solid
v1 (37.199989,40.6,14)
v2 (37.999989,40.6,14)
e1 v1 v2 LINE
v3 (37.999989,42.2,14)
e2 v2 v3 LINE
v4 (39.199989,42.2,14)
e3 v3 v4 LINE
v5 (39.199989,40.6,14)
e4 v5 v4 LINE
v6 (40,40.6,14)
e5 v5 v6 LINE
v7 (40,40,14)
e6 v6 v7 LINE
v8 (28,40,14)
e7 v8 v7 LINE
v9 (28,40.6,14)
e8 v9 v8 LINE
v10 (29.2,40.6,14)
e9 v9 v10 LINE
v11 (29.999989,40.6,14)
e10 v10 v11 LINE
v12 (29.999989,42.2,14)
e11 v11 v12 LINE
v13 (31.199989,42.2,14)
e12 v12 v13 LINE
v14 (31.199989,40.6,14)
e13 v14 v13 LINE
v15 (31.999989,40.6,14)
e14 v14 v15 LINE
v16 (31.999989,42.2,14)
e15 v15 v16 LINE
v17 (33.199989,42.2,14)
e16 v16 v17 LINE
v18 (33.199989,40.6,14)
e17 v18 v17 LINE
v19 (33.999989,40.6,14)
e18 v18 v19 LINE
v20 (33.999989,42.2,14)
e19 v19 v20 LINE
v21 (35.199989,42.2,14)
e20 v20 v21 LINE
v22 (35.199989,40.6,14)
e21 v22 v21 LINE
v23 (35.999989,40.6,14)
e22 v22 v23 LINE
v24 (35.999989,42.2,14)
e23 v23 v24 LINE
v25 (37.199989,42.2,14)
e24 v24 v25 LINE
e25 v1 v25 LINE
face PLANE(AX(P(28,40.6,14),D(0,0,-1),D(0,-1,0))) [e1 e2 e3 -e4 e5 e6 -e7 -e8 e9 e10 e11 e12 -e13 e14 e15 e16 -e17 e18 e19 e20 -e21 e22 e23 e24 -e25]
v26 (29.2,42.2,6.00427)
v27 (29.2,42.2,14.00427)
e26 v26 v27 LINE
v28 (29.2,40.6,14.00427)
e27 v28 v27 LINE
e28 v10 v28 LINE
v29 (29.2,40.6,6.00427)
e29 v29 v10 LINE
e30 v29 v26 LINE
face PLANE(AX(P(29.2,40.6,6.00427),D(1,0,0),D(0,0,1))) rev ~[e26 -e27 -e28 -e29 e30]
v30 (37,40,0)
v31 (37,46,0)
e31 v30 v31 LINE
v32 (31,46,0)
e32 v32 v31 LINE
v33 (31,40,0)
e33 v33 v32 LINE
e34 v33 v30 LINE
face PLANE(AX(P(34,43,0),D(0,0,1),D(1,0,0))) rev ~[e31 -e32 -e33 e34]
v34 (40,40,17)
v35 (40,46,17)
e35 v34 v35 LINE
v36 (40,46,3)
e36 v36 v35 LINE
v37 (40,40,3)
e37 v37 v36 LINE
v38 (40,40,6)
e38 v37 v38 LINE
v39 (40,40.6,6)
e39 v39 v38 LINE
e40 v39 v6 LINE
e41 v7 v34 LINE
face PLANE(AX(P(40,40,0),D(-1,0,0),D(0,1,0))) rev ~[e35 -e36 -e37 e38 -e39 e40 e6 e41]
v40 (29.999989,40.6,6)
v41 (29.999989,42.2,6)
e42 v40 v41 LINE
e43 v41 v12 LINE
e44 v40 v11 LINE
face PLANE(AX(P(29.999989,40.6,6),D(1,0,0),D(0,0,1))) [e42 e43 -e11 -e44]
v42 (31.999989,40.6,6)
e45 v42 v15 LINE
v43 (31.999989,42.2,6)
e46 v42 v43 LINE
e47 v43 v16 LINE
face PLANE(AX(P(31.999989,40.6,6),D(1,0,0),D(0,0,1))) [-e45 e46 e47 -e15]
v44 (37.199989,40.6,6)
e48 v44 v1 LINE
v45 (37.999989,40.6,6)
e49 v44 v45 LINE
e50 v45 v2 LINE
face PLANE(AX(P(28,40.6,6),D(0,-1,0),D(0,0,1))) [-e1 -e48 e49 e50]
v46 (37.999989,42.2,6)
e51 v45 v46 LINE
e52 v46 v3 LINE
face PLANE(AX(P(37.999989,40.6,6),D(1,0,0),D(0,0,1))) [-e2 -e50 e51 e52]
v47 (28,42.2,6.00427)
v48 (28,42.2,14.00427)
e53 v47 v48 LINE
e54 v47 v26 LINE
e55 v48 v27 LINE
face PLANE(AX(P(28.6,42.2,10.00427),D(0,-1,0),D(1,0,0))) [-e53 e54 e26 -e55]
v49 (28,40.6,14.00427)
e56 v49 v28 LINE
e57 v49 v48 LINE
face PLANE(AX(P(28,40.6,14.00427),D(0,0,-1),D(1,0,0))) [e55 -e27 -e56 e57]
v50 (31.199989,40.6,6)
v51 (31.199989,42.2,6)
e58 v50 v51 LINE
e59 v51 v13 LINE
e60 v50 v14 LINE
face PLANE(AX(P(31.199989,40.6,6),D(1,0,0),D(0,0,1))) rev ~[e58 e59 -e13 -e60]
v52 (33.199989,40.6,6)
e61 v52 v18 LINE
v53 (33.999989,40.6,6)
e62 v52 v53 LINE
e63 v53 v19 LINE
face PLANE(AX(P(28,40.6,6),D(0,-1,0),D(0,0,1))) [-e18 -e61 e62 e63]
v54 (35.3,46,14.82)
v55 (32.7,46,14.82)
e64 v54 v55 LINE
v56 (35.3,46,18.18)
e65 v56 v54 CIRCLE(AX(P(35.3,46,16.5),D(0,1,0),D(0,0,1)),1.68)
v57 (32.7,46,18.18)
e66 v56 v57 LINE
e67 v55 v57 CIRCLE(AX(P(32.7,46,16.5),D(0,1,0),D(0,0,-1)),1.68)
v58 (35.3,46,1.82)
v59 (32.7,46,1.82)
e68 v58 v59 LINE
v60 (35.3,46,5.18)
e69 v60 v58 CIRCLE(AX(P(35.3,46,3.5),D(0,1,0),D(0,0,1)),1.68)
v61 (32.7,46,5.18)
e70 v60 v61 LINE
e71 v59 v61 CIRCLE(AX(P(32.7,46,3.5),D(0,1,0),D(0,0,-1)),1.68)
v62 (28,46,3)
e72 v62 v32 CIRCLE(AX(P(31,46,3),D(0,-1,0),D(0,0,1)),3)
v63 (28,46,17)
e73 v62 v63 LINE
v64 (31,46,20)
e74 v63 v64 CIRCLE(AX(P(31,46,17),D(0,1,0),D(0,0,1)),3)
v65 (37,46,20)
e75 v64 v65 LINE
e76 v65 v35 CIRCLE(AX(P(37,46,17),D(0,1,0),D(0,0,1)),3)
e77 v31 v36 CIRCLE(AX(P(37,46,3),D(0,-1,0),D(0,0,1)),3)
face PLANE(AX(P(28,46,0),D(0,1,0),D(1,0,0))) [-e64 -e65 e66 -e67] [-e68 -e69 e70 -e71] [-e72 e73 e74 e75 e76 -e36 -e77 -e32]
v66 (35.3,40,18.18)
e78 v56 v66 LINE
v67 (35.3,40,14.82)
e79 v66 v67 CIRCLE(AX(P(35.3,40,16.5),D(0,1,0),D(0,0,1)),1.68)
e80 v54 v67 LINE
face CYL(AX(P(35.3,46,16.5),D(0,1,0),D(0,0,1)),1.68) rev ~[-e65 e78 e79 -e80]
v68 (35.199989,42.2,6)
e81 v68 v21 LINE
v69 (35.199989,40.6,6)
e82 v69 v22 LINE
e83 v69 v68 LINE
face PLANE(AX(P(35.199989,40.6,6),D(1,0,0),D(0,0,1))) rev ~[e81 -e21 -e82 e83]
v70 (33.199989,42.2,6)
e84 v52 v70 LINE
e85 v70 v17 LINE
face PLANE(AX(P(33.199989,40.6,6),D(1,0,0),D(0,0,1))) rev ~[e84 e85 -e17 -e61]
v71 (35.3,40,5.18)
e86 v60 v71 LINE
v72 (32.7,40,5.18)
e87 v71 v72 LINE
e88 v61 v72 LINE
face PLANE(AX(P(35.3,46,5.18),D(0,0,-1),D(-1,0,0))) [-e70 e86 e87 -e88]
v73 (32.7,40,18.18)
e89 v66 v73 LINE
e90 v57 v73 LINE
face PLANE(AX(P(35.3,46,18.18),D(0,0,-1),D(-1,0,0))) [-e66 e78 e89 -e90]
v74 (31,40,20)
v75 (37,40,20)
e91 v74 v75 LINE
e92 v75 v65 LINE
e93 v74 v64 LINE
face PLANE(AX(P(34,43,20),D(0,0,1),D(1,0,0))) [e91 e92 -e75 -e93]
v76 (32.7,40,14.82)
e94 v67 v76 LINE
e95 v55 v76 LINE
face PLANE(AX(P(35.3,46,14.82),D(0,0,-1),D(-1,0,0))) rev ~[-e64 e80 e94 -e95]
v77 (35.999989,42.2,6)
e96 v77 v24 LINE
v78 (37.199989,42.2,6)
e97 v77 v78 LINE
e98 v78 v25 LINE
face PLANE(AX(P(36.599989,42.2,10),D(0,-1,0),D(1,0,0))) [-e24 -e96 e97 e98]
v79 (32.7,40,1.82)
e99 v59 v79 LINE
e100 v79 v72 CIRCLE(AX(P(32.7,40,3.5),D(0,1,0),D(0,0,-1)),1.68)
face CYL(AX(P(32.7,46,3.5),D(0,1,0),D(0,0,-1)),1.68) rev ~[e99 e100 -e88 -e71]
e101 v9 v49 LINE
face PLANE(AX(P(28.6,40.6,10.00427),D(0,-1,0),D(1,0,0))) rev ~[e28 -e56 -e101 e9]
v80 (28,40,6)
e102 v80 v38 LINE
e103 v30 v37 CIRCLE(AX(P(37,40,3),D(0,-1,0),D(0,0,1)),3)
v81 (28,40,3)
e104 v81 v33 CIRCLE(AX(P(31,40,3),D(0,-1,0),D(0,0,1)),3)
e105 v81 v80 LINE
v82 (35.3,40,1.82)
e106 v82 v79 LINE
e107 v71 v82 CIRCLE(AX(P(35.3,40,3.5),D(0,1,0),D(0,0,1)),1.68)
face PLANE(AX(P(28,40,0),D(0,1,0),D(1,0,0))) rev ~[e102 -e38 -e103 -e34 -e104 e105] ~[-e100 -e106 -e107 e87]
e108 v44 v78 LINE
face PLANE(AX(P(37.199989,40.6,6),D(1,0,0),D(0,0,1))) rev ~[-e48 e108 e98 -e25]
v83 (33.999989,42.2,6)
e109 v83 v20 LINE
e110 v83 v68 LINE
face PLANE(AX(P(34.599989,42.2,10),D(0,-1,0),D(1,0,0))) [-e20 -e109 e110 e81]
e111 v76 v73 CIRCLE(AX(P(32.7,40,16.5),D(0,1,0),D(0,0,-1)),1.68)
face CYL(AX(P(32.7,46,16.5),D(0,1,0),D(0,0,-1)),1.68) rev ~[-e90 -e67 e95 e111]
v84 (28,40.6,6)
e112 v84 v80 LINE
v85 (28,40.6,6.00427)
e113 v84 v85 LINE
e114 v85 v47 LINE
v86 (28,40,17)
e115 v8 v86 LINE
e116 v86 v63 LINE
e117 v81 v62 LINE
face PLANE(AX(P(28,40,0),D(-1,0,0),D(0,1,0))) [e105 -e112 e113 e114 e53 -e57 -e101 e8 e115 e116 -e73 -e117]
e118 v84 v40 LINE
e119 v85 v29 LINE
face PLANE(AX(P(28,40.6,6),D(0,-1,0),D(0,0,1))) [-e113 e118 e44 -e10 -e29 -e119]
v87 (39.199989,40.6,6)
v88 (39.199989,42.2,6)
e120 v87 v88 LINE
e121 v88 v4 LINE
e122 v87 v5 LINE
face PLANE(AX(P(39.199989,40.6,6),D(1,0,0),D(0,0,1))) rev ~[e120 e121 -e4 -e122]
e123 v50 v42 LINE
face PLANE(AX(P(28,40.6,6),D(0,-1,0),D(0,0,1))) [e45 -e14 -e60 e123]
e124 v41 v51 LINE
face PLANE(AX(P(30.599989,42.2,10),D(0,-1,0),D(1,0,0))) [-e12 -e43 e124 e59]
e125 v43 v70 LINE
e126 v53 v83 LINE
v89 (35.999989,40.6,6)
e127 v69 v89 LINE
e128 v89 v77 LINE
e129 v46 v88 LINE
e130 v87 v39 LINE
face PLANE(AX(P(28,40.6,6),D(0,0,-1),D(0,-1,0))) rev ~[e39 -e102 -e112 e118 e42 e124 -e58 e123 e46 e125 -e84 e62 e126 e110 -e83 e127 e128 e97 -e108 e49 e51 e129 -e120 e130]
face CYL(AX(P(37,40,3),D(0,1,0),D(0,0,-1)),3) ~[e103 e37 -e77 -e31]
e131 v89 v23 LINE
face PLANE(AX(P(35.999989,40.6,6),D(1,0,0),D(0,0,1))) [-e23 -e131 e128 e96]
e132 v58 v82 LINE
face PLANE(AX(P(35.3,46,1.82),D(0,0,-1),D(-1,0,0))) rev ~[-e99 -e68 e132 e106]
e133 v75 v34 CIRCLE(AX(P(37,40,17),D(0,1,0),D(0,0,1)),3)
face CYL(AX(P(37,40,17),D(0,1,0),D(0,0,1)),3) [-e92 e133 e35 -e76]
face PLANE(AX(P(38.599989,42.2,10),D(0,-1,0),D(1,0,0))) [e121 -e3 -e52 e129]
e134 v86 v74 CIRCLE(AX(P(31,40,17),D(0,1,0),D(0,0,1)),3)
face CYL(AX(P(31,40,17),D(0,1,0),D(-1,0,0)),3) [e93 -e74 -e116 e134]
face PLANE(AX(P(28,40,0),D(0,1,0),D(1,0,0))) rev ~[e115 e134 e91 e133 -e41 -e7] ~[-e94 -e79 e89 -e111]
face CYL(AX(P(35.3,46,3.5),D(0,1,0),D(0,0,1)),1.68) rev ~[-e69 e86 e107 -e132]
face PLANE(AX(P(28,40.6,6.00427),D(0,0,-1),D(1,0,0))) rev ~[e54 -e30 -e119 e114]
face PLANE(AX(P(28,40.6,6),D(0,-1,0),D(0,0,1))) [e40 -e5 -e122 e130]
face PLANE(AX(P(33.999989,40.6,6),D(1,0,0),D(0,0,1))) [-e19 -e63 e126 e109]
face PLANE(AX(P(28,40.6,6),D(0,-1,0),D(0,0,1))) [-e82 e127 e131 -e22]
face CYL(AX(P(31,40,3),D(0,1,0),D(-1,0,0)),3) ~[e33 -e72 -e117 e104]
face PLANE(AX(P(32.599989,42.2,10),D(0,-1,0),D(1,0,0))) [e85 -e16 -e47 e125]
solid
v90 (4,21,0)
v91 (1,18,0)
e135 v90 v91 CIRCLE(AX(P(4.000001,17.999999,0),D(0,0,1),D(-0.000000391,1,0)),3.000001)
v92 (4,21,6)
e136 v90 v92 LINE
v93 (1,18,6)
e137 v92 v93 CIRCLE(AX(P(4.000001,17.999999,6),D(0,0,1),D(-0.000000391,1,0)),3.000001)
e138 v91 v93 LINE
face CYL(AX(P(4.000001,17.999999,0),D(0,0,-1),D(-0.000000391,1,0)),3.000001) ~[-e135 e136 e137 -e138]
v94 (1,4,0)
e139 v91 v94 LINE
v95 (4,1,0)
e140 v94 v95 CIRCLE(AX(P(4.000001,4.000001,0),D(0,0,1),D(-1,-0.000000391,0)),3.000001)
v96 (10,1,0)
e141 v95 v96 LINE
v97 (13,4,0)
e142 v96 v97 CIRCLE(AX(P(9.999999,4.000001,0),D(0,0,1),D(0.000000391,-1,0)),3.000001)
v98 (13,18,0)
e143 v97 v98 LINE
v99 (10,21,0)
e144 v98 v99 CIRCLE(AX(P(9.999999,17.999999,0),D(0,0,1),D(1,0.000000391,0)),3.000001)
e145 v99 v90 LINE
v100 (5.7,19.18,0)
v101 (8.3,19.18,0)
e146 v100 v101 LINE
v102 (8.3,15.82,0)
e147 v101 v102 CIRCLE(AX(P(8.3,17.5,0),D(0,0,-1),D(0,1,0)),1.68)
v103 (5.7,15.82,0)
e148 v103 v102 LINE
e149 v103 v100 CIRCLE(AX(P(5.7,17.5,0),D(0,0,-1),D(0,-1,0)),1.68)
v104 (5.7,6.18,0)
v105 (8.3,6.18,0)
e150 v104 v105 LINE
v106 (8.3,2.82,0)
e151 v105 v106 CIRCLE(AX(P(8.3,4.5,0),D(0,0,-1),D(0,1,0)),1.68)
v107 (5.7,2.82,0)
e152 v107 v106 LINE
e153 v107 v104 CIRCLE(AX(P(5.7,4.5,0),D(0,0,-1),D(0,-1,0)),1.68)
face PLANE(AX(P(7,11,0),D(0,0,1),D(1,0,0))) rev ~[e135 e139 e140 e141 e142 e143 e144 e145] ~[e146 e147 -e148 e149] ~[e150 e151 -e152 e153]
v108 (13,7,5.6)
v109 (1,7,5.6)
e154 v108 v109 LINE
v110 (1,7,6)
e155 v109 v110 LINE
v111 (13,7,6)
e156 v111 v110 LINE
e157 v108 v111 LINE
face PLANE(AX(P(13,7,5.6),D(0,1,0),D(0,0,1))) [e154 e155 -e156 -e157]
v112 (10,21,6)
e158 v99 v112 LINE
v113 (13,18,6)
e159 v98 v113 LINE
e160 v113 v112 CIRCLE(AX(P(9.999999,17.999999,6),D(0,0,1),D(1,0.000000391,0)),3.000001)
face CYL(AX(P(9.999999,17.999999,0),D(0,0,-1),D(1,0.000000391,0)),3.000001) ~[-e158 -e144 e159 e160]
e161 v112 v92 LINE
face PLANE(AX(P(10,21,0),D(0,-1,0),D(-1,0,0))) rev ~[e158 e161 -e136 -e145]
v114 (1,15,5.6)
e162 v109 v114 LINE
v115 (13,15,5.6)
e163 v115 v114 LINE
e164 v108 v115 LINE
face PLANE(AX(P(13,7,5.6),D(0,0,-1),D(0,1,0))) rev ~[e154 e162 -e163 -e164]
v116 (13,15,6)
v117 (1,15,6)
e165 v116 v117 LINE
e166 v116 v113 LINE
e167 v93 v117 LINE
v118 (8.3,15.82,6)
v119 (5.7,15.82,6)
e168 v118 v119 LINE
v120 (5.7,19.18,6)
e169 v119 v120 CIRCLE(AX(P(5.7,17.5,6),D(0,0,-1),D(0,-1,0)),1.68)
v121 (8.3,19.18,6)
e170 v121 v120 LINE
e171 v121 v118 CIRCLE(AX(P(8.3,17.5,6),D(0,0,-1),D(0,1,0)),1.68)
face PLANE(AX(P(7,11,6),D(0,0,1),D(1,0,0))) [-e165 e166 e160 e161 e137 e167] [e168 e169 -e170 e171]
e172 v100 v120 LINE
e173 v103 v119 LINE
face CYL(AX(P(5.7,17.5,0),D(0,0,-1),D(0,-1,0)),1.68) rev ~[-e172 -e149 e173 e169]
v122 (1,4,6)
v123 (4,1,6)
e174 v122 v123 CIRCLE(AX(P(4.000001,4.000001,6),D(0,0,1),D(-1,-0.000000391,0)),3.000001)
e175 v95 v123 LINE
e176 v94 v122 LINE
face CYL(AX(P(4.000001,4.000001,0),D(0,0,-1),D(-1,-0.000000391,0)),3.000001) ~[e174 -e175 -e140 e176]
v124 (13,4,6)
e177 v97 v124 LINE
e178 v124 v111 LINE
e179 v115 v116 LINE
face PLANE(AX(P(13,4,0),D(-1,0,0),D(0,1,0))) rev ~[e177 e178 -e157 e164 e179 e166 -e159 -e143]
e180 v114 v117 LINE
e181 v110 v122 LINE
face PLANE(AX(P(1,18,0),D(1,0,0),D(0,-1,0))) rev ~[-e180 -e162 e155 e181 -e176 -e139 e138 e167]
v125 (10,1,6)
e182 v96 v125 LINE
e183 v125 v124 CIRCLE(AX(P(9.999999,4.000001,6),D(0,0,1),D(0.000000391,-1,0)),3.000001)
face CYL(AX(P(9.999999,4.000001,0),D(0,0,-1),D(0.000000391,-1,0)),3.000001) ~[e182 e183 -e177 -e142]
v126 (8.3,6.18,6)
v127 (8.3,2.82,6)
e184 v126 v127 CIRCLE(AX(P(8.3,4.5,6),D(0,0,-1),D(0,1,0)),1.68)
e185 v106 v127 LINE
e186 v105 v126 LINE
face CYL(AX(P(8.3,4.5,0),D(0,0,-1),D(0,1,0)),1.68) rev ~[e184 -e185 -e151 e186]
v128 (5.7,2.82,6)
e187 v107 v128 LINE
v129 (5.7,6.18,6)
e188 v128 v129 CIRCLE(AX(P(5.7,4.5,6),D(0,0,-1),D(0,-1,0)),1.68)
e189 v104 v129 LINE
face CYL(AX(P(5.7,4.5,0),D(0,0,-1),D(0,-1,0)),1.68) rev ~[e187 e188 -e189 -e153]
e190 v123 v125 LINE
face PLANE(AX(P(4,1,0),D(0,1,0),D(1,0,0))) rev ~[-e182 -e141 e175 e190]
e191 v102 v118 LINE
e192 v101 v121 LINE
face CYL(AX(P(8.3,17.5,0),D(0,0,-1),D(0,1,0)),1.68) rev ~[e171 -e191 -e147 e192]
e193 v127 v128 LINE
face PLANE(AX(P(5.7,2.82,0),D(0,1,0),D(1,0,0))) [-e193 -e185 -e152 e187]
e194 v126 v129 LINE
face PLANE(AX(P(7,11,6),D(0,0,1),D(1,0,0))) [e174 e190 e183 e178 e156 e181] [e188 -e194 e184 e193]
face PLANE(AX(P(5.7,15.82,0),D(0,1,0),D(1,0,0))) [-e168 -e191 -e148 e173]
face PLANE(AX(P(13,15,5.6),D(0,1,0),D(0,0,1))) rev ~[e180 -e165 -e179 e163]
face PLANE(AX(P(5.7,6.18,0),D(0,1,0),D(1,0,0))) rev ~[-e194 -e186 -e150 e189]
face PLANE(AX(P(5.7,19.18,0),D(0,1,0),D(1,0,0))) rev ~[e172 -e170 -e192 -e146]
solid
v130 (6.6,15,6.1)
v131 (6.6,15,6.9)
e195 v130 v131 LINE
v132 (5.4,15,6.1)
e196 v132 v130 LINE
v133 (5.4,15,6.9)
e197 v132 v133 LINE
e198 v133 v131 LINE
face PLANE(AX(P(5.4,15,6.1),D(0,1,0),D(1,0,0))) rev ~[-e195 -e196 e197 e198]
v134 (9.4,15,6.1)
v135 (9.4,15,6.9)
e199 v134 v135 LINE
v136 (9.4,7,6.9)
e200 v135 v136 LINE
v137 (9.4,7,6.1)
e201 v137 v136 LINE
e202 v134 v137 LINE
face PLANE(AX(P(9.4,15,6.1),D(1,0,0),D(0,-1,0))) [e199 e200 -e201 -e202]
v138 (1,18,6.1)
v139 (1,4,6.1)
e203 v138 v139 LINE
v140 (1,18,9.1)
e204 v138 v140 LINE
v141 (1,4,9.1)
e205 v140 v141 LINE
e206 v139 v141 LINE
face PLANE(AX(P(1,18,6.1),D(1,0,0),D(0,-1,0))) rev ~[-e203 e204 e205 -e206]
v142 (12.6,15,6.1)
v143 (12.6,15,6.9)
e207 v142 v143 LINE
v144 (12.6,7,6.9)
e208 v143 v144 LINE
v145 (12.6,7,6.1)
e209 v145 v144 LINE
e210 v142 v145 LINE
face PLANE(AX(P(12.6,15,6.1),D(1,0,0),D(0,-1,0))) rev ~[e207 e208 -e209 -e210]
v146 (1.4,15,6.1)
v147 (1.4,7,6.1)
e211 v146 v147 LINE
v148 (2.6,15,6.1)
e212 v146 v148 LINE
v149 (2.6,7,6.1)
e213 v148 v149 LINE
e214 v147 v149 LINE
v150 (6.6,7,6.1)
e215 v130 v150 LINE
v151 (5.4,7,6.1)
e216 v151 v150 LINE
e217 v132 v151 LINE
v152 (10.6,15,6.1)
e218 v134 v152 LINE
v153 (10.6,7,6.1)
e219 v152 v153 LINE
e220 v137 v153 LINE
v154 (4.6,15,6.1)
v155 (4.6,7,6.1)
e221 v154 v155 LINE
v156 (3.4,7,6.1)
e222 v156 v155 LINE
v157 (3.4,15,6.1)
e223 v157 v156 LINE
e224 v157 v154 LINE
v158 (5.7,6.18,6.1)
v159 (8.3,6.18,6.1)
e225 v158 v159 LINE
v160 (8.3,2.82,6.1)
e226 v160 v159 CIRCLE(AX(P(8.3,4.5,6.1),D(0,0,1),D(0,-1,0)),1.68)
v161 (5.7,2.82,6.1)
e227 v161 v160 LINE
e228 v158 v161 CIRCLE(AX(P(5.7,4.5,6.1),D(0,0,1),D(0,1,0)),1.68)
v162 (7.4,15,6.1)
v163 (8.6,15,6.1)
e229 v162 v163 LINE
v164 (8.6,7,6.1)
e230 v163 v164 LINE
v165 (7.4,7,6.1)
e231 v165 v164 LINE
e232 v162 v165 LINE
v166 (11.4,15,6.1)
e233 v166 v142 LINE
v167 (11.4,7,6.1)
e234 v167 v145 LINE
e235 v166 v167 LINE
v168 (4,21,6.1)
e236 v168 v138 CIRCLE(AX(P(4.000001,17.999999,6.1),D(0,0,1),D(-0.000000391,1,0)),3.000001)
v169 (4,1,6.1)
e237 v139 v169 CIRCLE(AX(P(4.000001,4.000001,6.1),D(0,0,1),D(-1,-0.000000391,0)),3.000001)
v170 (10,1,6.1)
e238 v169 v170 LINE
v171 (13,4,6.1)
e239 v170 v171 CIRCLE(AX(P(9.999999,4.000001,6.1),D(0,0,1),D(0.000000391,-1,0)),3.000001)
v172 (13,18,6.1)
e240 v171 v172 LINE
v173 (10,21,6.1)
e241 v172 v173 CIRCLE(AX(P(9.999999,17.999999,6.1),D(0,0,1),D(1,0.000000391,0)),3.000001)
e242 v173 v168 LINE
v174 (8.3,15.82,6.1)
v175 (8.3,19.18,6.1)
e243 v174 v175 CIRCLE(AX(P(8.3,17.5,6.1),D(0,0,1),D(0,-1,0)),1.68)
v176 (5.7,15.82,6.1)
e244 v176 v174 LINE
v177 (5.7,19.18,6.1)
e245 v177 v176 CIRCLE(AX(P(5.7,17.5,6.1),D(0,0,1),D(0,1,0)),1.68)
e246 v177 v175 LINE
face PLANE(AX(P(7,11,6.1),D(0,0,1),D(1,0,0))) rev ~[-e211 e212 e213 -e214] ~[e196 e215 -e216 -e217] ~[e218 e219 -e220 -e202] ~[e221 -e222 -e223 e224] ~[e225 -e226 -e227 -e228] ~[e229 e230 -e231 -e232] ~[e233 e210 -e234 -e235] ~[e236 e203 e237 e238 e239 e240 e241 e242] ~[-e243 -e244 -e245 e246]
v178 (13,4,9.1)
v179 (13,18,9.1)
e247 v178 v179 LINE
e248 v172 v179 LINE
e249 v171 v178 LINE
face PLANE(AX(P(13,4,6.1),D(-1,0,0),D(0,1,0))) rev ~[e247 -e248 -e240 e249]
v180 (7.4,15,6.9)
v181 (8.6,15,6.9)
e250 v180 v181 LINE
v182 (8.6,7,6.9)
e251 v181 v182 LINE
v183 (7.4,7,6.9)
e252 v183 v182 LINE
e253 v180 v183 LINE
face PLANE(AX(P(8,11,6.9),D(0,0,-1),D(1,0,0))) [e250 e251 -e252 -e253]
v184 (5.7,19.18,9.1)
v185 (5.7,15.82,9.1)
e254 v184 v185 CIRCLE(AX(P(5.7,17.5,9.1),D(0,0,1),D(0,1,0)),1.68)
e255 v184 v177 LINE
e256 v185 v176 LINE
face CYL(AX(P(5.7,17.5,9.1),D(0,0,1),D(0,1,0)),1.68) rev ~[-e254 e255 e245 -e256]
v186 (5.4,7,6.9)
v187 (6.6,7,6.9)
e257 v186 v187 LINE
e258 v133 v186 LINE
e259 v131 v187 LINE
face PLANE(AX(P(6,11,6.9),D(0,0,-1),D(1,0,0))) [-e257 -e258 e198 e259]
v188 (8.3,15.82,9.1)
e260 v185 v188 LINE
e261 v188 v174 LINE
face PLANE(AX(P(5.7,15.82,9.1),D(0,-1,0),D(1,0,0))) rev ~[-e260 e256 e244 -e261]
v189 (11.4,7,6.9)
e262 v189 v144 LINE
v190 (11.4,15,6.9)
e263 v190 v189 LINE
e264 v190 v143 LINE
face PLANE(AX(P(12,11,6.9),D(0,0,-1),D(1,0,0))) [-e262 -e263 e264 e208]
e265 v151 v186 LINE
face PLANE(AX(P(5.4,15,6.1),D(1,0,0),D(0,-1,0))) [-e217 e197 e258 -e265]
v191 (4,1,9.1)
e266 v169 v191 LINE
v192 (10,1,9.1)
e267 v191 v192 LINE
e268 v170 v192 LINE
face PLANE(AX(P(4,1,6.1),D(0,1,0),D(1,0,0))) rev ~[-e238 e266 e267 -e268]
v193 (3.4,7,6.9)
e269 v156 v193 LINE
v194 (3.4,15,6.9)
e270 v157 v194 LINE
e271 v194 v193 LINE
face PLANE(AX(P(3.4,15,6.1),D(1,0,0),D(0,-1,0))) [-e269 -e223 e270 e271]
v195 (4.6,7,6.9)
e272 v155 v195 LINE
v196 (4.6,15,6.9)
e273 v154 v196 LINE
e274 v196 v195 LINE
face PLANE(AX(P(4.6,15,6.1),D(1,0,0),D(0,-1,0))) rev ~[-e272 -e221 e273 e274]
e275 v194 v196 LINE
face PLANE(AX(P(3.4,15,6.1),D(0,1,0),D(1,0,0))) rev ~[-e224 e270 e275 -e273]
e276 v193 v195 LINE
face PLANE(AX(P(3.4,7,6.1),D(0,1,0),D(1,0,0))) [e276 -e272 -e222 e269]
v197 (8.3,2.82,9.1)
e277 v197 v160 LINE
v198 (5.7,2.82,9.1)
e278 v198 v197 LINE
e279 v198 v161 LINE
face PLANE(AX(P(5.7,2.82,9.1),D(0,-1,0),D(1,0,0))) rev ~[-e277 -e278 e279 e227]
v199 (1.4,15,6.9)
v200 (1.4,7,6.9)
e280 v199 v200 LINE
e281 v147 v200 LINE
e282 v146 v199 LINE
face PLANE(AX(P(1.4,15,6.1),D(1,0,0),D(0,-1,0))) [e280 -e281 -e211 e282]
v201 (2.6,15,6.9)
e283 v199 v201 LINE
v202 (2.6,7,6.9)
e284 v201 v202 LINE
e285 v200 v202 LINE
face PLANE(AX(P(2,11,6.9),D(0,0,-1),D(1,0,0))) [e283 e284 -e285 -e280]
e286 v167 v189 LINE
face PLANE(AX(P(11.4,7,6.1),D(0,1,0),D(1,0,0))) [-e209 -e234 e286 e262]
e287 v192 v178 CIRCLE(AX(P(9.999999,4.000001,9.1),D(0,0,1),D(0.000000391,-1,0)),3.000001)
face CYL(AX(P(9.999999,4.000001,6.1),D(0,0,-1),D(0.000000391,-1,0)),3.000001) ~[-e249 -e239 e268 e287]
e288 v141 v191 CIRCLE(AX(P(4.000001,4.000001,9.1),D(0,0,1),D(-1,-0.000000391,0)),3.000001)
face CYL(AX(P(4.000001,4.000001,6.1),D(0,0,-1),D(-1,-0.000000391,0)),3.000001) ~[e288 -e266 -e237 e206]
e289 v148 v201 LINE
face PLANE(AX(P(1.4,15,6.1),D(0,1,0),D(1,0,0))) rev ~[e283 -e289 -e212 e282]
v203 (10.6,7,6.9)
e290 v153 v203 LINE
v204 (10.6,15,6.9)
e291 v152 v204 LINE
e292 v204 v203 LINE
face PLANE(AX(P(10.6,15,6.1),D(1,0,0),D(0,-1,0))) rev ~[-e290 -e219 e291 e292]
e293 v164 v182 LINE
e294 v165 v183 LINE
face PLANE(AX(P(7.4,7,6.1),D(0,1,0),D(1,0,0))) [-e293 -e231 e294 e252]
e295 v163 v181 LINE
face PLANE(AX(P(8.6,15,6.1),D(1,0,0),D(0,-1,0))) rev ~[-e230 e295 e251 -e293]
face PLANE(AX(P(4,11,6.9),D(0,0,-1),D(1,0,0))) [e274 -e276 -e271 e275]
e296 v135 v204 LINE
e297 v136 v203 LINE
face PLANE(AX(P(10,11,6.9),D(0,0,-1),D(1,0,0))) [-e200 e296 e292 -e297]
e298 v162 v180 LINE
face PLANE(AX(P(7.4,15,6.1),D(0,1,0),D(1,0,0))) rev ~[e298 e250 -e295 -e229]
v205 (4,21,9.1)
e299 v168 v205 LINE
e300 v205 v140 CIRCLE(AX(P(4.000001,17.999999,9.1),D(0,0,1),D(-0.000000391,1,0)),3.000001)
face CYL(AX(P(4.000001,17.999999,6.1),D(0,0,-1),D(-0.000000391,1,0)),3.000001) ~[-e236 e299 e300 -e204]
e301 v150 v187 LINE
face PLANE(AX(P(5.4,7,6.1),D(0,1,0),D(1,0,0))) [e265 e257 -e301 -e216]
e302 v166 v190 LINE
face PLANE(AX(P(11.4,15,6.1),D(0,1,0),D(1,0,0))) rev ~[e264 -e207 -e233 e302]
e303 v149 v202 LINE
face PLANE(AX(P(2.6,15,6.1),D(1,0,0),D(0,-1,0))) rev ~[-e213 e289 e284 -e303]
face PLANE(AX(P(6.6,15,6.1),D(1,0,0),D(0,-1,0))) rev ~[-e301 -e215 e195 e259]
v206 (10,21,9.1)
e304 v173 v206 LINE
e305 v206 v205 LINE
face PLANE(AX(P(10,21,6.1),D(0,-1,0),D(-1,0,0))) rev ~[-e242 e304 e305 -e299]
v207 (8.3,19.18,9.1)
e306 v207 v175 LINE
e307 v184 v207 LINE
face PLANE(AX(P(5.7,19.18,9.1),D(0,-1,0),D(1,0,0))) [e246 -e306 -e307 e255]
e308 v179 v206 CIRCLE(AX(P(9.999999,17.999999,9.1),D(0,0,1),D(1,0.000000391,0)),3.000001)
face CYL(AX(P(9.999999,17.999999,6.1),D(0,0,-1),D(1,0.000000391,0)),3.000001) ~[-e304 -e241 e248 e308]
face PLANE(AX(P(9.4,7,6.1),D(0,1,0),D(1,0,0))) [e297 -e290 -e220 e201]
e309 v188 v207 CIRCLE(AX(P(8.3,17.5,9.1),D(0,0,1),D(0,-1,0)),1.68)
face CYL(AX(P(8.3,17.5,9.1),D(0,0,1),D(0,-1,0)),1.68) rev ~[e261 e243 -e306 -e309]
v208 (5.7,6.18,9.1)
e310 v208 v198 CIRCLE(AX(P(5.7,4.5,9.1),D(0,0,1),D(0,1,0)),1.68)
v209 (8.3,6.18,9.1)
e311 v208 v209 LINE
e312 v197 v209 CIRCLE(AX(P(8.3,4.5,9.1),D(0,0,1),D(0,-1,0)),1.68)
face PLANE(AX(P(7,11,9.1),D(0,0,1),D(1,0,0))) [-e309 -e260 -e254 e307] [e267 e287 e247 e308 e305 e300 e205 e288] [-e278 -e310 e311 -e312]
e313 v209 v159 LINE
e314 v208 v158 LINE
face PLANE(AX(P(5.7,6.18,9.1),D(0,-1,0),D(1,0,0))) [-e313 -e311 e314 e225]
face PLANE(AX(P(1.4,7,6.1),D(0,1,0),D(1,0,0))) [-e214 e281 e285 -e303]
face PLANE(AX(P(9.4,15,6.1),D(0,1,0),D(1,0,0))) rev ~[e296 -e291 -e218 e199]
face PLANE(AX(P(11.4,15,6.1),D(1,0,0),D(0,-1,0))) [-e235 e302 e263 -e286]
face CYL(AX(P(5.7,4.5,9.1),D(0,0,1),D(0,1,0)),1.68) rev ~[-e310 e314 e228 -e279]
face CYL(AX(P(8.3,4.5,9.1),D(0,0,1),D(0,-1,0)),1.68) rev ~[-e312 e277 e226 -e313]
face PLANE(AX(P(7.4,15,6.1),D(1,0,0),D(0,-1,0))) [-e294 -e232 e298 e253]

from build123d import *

# Parameters (mm, degrees)
BOX002_W        = 12
BOX002_H        = 6
BOX002_DEPTH    = 20
POCKET015_DEPTH = 6.001
SKETCH013_W     = 0.6
SKETCH013_H     = 8
POCKET016_DEPTH = 12.001
SKETCH011_W     = 1.2
SKETCH011_H     = 8
POCKET017_DEPTH = 1.6
FILLET006_R     = 3
PAD_DEPTH       = 6
SKETCH015_W     = 8
SKETCH015_H     = 0.5
POCKET_DEPTH    = 12.001
POCKET018_DEPTH = 6.001
PAD001_DEPTH    = 3
POCKET019_DEPTH = 5
SKETCH017_W     = 1.2
SKETCH017_H     = 8
POCKET020_DEPTH = 0.8


with BuildPart() as fillet006:
    # Box002 → Box002 (new body)
    with BuildSketch(Plane(origin=(28, 40, 0), x_dir=(1, 0, 0), z_dir=(0, 0, 1))):
        with Locations((6, 3)):
            Rectangle(BOX002_W, BOX002_H)
    extrude(amount=BOX002_DEPTH)

    # Sketch012 → Pocket015 (cut, through all)
    with BuildSketch(Plane(origin=(28, 46, 0), x_dir=(-1, 0, 0), z_dir=(0, 1, 0))):
        with BuildLine():
            ThreePointArc((-7.3, 18.18), (-8.98, 16.5), (-7.3, 14.82))
            Line((-7.3, 14.82), (-4.7, 14.82))
            ThreePointArc((-4.7, 14.82), (-3.02, 16.5), (-4.7, 18.18))
            Line((-7.3, 18.18), (-4.7, 18.18))
        make_face()
        with BuildLine():
            ThreePointArc((-7.3, 5.18), (-8.98, 3.5), (-7.3, 1.82))
            Line((-7.3, 1.82), (-4.7, 1.82))
            ThreePointArc((-4.7, 1.82), (-3.02, 3.5), (-4.7, 5.18))
            Line((-7.3, 5.18), (-4.7, 5.18))
        make_face()
    extrude(amount=-POCKET015_DEPTH, mode=Mode.SUBTRACT)

    # Sketch013 → Pocket016 (cut, through all)
    with BuildSketch(Plane(origin=(28, 40, 0), x_dir=(0, -1, 0), z_dir=(-1, 0, 0))):
        with Locations((-0.3, 10)):
            Rectangle(SKETCH013_W, SKETCH013_H)
    extrude(amount=-POCKET016_DEPTH, mode=Mode.SUBTRACT)

    # Sketch011 → Pocket017 (cut)
    with BuildSketch(Plane(origin=(28, 40.6, 0), x_dir=(1, 0, 0), z_dir=(0, -1, 0))):
        with Locations((6.599989, 10)):
            Rectangle(SKETCH011_W, SKETCH011_H)
        with Locations((4.599989, 10)):
            Rectangle(SKETCH011_W, SKETCH011_H)
        with Locations((2.599989, 10)):
            Rectangle(SKETCH011_W, SKETCH011_H)
        with Locations((0.6, 10.00427)):
            Rectangle(SKETCH011_W, SKETCH011_H)
        with Locations((8.599989, 10)):
            Rectangle(SKETCH011_W, SKETCH011_H)
        with Locations((10.599989, 10)):
            Rectangle(SKETCH011_W, SKETCH011_H)
    extrude(amount=-POCKET017_DEPTH, mode=Mode.SUBTRACT)

    # Fillet006
    fillet006_edges = [fillet006.edges().sort_by_distance(p)[0] for p in [
        (28, 43, 20),
        (28, 43, 0),
        (40, 43, 20),
        (40, 43, 0),
    ]]
    fillet(fillet006_edges, radius=FILLET006_R)


with BuildPart() as pocket018:
    # Sketch → Pad (new body)
    with BuildSketch(Plane.XY):
        with BuildLine():
            Line((4, 1), (10, 1))
            ThreePointArc((10, 1), (12.12132, 1.87868), (13, 4))
            Line((13, 4), (13, 18))
            ThreePointArc((13, 18), (12.12132, 20.12132), (10, 21))
            Line((10, 21), (4, 21))
            ThreePointArc((4, 21), (1.87868, 20.12132), (1, 18))
            Line((1, 18), (1, 4))
            ThreePointArc((1, 4), (1.87868, 1.87868), (4, 1))
        make_face()
    extrude(amount=PAD_DEPTH)

    # Sketch015 → Pocket (cut, through all)
    with BuildSketch(Plane.YZ.offset(13)):
        with Locations((11, 5.85)):
            Rectangle(SKETCH015_W, SKETCH015_H)
    extrude(amount=-POCKET_DEPTH, mode=Mode.SUBTRACT)

    # Sketch016 → Pocket018 (cut, through all)
    with BuildSketch(Plane(origin=(0, 0, 0), x_dir=(1, 0, 0), z_dir=(0, 0, -1))):
        with BuildLine():
            ThreePointArc((5.7, -15.82), (4.02, -17.5), (5.7, -19.18))
            Line((5.7, -19.18), (8.3, -19.18))
            ThreePointArc((8.3, -19.18), (9.98, -17.5), (8.3, -15.82))
            Line((5.7, -15.82), (8.3, -15.82))
        make_face()
        with BuildLine():
            ThreePointArc((5.7, -2.82), (4.02, -4.5), (5.7, -6.18))
            Line((5.7, -6.18), (8.3, -6.18))
            ThreePointArc((8.3, -6.18), (9.98, -4.5), (8.3, -2.82))
            Line((5.7, -2.82), (8.3, -2.82))
        make_face()
    extrude(amount=-POCKET018_DEPTH, mode=Mode.SUBTRACT)


with BuildPart() as pocket020:
    # Sketch014 → Pad001 (new body)
    with BuildSketch(Plane.XY.offset(6.1)):
        with BuildLine():
            Line((4, 1), (10, 1))
            ThreePointArc((10, 1), (12.12132, 1.87868), (13, 4))
            Line((13, 4), (13, 18))
            ThreePointArc((13, 18), (12.12132, 20.12132), (10, 21))
            Line((10, 21), (4, 21))
            ThreePointArc((4, 21), (1.87868, 20.12132), (1, 18))
            Line((1, 18), (1, 4))
            ThreePointArc((1, 4), (1.87868, 1.87868), (4, 1))
        make_face()
    extrude(amount=PAD001_DEPTH)

    # Sketch018 → Pocket019 (cut)
    with BuildSketch(Plane.XY.offset(9.1)):
        with BuildLine():
            ThreePointArc((5.7, 6.18), (4.02, 4.5), (5.7, 2.82))
            Line((5.7, 2.82), (8.3, 2.82))
            ThreePointArc((8.3, 2.82), (9.98, 4.5), (8.3, 6.18))
            Line((5.7, 6.18), (8.3, 6.18))
        make_face()
        with BuildLine():
            ThreePointArc((5.7, 19.18), (4.02, 17.5), (5.7, 15.82))
            Line((5.7, 15.82), (8.3, 15.82))
            ThreePointArc((8.3, 15.82), (9.98, 17.5), (8.3, 19.18))
            Line((5.7, 19.18), (8.3, 19.18))
        make_face()
    extrude(amount=-POCKET019_DEPTH, mode=Mode.SUBTRACT)

    # Sketch017 → Pocket020 (cut)
    with BuildSketch(Plane(origin=(0, 0, 6.1), x_dir=(1, 0, 0), z_dir=(0, 0, -1))):
        with Locations((8, -11)):
            Rectangle(SKETCH017_W, SKETCH017_H)
        with Locations((6, -11)):
            Rectangle(SKETCH017_W, SKETCH017_H)
        with Locations((4, -11)):
            Rectangle(SKETCH017_W, SKETCH017_H)
        with Locations((2, -11)):
            Rectangle(SKETCH017_W, SKETCH017_H)
        with Locations((10, -11)):
            Rectangle(SKETCH017_W, SKETCH017_H)
        with Locations((12, -11)):
            Rectangle(SKETCH017_W, SKETCH017_H)
    extrude(amount=-POCKET020_DEPTH, mode=Mode.SUBTRACT)


solid = Compound([fillet006.part, pocket018.part, pocket020.part])
